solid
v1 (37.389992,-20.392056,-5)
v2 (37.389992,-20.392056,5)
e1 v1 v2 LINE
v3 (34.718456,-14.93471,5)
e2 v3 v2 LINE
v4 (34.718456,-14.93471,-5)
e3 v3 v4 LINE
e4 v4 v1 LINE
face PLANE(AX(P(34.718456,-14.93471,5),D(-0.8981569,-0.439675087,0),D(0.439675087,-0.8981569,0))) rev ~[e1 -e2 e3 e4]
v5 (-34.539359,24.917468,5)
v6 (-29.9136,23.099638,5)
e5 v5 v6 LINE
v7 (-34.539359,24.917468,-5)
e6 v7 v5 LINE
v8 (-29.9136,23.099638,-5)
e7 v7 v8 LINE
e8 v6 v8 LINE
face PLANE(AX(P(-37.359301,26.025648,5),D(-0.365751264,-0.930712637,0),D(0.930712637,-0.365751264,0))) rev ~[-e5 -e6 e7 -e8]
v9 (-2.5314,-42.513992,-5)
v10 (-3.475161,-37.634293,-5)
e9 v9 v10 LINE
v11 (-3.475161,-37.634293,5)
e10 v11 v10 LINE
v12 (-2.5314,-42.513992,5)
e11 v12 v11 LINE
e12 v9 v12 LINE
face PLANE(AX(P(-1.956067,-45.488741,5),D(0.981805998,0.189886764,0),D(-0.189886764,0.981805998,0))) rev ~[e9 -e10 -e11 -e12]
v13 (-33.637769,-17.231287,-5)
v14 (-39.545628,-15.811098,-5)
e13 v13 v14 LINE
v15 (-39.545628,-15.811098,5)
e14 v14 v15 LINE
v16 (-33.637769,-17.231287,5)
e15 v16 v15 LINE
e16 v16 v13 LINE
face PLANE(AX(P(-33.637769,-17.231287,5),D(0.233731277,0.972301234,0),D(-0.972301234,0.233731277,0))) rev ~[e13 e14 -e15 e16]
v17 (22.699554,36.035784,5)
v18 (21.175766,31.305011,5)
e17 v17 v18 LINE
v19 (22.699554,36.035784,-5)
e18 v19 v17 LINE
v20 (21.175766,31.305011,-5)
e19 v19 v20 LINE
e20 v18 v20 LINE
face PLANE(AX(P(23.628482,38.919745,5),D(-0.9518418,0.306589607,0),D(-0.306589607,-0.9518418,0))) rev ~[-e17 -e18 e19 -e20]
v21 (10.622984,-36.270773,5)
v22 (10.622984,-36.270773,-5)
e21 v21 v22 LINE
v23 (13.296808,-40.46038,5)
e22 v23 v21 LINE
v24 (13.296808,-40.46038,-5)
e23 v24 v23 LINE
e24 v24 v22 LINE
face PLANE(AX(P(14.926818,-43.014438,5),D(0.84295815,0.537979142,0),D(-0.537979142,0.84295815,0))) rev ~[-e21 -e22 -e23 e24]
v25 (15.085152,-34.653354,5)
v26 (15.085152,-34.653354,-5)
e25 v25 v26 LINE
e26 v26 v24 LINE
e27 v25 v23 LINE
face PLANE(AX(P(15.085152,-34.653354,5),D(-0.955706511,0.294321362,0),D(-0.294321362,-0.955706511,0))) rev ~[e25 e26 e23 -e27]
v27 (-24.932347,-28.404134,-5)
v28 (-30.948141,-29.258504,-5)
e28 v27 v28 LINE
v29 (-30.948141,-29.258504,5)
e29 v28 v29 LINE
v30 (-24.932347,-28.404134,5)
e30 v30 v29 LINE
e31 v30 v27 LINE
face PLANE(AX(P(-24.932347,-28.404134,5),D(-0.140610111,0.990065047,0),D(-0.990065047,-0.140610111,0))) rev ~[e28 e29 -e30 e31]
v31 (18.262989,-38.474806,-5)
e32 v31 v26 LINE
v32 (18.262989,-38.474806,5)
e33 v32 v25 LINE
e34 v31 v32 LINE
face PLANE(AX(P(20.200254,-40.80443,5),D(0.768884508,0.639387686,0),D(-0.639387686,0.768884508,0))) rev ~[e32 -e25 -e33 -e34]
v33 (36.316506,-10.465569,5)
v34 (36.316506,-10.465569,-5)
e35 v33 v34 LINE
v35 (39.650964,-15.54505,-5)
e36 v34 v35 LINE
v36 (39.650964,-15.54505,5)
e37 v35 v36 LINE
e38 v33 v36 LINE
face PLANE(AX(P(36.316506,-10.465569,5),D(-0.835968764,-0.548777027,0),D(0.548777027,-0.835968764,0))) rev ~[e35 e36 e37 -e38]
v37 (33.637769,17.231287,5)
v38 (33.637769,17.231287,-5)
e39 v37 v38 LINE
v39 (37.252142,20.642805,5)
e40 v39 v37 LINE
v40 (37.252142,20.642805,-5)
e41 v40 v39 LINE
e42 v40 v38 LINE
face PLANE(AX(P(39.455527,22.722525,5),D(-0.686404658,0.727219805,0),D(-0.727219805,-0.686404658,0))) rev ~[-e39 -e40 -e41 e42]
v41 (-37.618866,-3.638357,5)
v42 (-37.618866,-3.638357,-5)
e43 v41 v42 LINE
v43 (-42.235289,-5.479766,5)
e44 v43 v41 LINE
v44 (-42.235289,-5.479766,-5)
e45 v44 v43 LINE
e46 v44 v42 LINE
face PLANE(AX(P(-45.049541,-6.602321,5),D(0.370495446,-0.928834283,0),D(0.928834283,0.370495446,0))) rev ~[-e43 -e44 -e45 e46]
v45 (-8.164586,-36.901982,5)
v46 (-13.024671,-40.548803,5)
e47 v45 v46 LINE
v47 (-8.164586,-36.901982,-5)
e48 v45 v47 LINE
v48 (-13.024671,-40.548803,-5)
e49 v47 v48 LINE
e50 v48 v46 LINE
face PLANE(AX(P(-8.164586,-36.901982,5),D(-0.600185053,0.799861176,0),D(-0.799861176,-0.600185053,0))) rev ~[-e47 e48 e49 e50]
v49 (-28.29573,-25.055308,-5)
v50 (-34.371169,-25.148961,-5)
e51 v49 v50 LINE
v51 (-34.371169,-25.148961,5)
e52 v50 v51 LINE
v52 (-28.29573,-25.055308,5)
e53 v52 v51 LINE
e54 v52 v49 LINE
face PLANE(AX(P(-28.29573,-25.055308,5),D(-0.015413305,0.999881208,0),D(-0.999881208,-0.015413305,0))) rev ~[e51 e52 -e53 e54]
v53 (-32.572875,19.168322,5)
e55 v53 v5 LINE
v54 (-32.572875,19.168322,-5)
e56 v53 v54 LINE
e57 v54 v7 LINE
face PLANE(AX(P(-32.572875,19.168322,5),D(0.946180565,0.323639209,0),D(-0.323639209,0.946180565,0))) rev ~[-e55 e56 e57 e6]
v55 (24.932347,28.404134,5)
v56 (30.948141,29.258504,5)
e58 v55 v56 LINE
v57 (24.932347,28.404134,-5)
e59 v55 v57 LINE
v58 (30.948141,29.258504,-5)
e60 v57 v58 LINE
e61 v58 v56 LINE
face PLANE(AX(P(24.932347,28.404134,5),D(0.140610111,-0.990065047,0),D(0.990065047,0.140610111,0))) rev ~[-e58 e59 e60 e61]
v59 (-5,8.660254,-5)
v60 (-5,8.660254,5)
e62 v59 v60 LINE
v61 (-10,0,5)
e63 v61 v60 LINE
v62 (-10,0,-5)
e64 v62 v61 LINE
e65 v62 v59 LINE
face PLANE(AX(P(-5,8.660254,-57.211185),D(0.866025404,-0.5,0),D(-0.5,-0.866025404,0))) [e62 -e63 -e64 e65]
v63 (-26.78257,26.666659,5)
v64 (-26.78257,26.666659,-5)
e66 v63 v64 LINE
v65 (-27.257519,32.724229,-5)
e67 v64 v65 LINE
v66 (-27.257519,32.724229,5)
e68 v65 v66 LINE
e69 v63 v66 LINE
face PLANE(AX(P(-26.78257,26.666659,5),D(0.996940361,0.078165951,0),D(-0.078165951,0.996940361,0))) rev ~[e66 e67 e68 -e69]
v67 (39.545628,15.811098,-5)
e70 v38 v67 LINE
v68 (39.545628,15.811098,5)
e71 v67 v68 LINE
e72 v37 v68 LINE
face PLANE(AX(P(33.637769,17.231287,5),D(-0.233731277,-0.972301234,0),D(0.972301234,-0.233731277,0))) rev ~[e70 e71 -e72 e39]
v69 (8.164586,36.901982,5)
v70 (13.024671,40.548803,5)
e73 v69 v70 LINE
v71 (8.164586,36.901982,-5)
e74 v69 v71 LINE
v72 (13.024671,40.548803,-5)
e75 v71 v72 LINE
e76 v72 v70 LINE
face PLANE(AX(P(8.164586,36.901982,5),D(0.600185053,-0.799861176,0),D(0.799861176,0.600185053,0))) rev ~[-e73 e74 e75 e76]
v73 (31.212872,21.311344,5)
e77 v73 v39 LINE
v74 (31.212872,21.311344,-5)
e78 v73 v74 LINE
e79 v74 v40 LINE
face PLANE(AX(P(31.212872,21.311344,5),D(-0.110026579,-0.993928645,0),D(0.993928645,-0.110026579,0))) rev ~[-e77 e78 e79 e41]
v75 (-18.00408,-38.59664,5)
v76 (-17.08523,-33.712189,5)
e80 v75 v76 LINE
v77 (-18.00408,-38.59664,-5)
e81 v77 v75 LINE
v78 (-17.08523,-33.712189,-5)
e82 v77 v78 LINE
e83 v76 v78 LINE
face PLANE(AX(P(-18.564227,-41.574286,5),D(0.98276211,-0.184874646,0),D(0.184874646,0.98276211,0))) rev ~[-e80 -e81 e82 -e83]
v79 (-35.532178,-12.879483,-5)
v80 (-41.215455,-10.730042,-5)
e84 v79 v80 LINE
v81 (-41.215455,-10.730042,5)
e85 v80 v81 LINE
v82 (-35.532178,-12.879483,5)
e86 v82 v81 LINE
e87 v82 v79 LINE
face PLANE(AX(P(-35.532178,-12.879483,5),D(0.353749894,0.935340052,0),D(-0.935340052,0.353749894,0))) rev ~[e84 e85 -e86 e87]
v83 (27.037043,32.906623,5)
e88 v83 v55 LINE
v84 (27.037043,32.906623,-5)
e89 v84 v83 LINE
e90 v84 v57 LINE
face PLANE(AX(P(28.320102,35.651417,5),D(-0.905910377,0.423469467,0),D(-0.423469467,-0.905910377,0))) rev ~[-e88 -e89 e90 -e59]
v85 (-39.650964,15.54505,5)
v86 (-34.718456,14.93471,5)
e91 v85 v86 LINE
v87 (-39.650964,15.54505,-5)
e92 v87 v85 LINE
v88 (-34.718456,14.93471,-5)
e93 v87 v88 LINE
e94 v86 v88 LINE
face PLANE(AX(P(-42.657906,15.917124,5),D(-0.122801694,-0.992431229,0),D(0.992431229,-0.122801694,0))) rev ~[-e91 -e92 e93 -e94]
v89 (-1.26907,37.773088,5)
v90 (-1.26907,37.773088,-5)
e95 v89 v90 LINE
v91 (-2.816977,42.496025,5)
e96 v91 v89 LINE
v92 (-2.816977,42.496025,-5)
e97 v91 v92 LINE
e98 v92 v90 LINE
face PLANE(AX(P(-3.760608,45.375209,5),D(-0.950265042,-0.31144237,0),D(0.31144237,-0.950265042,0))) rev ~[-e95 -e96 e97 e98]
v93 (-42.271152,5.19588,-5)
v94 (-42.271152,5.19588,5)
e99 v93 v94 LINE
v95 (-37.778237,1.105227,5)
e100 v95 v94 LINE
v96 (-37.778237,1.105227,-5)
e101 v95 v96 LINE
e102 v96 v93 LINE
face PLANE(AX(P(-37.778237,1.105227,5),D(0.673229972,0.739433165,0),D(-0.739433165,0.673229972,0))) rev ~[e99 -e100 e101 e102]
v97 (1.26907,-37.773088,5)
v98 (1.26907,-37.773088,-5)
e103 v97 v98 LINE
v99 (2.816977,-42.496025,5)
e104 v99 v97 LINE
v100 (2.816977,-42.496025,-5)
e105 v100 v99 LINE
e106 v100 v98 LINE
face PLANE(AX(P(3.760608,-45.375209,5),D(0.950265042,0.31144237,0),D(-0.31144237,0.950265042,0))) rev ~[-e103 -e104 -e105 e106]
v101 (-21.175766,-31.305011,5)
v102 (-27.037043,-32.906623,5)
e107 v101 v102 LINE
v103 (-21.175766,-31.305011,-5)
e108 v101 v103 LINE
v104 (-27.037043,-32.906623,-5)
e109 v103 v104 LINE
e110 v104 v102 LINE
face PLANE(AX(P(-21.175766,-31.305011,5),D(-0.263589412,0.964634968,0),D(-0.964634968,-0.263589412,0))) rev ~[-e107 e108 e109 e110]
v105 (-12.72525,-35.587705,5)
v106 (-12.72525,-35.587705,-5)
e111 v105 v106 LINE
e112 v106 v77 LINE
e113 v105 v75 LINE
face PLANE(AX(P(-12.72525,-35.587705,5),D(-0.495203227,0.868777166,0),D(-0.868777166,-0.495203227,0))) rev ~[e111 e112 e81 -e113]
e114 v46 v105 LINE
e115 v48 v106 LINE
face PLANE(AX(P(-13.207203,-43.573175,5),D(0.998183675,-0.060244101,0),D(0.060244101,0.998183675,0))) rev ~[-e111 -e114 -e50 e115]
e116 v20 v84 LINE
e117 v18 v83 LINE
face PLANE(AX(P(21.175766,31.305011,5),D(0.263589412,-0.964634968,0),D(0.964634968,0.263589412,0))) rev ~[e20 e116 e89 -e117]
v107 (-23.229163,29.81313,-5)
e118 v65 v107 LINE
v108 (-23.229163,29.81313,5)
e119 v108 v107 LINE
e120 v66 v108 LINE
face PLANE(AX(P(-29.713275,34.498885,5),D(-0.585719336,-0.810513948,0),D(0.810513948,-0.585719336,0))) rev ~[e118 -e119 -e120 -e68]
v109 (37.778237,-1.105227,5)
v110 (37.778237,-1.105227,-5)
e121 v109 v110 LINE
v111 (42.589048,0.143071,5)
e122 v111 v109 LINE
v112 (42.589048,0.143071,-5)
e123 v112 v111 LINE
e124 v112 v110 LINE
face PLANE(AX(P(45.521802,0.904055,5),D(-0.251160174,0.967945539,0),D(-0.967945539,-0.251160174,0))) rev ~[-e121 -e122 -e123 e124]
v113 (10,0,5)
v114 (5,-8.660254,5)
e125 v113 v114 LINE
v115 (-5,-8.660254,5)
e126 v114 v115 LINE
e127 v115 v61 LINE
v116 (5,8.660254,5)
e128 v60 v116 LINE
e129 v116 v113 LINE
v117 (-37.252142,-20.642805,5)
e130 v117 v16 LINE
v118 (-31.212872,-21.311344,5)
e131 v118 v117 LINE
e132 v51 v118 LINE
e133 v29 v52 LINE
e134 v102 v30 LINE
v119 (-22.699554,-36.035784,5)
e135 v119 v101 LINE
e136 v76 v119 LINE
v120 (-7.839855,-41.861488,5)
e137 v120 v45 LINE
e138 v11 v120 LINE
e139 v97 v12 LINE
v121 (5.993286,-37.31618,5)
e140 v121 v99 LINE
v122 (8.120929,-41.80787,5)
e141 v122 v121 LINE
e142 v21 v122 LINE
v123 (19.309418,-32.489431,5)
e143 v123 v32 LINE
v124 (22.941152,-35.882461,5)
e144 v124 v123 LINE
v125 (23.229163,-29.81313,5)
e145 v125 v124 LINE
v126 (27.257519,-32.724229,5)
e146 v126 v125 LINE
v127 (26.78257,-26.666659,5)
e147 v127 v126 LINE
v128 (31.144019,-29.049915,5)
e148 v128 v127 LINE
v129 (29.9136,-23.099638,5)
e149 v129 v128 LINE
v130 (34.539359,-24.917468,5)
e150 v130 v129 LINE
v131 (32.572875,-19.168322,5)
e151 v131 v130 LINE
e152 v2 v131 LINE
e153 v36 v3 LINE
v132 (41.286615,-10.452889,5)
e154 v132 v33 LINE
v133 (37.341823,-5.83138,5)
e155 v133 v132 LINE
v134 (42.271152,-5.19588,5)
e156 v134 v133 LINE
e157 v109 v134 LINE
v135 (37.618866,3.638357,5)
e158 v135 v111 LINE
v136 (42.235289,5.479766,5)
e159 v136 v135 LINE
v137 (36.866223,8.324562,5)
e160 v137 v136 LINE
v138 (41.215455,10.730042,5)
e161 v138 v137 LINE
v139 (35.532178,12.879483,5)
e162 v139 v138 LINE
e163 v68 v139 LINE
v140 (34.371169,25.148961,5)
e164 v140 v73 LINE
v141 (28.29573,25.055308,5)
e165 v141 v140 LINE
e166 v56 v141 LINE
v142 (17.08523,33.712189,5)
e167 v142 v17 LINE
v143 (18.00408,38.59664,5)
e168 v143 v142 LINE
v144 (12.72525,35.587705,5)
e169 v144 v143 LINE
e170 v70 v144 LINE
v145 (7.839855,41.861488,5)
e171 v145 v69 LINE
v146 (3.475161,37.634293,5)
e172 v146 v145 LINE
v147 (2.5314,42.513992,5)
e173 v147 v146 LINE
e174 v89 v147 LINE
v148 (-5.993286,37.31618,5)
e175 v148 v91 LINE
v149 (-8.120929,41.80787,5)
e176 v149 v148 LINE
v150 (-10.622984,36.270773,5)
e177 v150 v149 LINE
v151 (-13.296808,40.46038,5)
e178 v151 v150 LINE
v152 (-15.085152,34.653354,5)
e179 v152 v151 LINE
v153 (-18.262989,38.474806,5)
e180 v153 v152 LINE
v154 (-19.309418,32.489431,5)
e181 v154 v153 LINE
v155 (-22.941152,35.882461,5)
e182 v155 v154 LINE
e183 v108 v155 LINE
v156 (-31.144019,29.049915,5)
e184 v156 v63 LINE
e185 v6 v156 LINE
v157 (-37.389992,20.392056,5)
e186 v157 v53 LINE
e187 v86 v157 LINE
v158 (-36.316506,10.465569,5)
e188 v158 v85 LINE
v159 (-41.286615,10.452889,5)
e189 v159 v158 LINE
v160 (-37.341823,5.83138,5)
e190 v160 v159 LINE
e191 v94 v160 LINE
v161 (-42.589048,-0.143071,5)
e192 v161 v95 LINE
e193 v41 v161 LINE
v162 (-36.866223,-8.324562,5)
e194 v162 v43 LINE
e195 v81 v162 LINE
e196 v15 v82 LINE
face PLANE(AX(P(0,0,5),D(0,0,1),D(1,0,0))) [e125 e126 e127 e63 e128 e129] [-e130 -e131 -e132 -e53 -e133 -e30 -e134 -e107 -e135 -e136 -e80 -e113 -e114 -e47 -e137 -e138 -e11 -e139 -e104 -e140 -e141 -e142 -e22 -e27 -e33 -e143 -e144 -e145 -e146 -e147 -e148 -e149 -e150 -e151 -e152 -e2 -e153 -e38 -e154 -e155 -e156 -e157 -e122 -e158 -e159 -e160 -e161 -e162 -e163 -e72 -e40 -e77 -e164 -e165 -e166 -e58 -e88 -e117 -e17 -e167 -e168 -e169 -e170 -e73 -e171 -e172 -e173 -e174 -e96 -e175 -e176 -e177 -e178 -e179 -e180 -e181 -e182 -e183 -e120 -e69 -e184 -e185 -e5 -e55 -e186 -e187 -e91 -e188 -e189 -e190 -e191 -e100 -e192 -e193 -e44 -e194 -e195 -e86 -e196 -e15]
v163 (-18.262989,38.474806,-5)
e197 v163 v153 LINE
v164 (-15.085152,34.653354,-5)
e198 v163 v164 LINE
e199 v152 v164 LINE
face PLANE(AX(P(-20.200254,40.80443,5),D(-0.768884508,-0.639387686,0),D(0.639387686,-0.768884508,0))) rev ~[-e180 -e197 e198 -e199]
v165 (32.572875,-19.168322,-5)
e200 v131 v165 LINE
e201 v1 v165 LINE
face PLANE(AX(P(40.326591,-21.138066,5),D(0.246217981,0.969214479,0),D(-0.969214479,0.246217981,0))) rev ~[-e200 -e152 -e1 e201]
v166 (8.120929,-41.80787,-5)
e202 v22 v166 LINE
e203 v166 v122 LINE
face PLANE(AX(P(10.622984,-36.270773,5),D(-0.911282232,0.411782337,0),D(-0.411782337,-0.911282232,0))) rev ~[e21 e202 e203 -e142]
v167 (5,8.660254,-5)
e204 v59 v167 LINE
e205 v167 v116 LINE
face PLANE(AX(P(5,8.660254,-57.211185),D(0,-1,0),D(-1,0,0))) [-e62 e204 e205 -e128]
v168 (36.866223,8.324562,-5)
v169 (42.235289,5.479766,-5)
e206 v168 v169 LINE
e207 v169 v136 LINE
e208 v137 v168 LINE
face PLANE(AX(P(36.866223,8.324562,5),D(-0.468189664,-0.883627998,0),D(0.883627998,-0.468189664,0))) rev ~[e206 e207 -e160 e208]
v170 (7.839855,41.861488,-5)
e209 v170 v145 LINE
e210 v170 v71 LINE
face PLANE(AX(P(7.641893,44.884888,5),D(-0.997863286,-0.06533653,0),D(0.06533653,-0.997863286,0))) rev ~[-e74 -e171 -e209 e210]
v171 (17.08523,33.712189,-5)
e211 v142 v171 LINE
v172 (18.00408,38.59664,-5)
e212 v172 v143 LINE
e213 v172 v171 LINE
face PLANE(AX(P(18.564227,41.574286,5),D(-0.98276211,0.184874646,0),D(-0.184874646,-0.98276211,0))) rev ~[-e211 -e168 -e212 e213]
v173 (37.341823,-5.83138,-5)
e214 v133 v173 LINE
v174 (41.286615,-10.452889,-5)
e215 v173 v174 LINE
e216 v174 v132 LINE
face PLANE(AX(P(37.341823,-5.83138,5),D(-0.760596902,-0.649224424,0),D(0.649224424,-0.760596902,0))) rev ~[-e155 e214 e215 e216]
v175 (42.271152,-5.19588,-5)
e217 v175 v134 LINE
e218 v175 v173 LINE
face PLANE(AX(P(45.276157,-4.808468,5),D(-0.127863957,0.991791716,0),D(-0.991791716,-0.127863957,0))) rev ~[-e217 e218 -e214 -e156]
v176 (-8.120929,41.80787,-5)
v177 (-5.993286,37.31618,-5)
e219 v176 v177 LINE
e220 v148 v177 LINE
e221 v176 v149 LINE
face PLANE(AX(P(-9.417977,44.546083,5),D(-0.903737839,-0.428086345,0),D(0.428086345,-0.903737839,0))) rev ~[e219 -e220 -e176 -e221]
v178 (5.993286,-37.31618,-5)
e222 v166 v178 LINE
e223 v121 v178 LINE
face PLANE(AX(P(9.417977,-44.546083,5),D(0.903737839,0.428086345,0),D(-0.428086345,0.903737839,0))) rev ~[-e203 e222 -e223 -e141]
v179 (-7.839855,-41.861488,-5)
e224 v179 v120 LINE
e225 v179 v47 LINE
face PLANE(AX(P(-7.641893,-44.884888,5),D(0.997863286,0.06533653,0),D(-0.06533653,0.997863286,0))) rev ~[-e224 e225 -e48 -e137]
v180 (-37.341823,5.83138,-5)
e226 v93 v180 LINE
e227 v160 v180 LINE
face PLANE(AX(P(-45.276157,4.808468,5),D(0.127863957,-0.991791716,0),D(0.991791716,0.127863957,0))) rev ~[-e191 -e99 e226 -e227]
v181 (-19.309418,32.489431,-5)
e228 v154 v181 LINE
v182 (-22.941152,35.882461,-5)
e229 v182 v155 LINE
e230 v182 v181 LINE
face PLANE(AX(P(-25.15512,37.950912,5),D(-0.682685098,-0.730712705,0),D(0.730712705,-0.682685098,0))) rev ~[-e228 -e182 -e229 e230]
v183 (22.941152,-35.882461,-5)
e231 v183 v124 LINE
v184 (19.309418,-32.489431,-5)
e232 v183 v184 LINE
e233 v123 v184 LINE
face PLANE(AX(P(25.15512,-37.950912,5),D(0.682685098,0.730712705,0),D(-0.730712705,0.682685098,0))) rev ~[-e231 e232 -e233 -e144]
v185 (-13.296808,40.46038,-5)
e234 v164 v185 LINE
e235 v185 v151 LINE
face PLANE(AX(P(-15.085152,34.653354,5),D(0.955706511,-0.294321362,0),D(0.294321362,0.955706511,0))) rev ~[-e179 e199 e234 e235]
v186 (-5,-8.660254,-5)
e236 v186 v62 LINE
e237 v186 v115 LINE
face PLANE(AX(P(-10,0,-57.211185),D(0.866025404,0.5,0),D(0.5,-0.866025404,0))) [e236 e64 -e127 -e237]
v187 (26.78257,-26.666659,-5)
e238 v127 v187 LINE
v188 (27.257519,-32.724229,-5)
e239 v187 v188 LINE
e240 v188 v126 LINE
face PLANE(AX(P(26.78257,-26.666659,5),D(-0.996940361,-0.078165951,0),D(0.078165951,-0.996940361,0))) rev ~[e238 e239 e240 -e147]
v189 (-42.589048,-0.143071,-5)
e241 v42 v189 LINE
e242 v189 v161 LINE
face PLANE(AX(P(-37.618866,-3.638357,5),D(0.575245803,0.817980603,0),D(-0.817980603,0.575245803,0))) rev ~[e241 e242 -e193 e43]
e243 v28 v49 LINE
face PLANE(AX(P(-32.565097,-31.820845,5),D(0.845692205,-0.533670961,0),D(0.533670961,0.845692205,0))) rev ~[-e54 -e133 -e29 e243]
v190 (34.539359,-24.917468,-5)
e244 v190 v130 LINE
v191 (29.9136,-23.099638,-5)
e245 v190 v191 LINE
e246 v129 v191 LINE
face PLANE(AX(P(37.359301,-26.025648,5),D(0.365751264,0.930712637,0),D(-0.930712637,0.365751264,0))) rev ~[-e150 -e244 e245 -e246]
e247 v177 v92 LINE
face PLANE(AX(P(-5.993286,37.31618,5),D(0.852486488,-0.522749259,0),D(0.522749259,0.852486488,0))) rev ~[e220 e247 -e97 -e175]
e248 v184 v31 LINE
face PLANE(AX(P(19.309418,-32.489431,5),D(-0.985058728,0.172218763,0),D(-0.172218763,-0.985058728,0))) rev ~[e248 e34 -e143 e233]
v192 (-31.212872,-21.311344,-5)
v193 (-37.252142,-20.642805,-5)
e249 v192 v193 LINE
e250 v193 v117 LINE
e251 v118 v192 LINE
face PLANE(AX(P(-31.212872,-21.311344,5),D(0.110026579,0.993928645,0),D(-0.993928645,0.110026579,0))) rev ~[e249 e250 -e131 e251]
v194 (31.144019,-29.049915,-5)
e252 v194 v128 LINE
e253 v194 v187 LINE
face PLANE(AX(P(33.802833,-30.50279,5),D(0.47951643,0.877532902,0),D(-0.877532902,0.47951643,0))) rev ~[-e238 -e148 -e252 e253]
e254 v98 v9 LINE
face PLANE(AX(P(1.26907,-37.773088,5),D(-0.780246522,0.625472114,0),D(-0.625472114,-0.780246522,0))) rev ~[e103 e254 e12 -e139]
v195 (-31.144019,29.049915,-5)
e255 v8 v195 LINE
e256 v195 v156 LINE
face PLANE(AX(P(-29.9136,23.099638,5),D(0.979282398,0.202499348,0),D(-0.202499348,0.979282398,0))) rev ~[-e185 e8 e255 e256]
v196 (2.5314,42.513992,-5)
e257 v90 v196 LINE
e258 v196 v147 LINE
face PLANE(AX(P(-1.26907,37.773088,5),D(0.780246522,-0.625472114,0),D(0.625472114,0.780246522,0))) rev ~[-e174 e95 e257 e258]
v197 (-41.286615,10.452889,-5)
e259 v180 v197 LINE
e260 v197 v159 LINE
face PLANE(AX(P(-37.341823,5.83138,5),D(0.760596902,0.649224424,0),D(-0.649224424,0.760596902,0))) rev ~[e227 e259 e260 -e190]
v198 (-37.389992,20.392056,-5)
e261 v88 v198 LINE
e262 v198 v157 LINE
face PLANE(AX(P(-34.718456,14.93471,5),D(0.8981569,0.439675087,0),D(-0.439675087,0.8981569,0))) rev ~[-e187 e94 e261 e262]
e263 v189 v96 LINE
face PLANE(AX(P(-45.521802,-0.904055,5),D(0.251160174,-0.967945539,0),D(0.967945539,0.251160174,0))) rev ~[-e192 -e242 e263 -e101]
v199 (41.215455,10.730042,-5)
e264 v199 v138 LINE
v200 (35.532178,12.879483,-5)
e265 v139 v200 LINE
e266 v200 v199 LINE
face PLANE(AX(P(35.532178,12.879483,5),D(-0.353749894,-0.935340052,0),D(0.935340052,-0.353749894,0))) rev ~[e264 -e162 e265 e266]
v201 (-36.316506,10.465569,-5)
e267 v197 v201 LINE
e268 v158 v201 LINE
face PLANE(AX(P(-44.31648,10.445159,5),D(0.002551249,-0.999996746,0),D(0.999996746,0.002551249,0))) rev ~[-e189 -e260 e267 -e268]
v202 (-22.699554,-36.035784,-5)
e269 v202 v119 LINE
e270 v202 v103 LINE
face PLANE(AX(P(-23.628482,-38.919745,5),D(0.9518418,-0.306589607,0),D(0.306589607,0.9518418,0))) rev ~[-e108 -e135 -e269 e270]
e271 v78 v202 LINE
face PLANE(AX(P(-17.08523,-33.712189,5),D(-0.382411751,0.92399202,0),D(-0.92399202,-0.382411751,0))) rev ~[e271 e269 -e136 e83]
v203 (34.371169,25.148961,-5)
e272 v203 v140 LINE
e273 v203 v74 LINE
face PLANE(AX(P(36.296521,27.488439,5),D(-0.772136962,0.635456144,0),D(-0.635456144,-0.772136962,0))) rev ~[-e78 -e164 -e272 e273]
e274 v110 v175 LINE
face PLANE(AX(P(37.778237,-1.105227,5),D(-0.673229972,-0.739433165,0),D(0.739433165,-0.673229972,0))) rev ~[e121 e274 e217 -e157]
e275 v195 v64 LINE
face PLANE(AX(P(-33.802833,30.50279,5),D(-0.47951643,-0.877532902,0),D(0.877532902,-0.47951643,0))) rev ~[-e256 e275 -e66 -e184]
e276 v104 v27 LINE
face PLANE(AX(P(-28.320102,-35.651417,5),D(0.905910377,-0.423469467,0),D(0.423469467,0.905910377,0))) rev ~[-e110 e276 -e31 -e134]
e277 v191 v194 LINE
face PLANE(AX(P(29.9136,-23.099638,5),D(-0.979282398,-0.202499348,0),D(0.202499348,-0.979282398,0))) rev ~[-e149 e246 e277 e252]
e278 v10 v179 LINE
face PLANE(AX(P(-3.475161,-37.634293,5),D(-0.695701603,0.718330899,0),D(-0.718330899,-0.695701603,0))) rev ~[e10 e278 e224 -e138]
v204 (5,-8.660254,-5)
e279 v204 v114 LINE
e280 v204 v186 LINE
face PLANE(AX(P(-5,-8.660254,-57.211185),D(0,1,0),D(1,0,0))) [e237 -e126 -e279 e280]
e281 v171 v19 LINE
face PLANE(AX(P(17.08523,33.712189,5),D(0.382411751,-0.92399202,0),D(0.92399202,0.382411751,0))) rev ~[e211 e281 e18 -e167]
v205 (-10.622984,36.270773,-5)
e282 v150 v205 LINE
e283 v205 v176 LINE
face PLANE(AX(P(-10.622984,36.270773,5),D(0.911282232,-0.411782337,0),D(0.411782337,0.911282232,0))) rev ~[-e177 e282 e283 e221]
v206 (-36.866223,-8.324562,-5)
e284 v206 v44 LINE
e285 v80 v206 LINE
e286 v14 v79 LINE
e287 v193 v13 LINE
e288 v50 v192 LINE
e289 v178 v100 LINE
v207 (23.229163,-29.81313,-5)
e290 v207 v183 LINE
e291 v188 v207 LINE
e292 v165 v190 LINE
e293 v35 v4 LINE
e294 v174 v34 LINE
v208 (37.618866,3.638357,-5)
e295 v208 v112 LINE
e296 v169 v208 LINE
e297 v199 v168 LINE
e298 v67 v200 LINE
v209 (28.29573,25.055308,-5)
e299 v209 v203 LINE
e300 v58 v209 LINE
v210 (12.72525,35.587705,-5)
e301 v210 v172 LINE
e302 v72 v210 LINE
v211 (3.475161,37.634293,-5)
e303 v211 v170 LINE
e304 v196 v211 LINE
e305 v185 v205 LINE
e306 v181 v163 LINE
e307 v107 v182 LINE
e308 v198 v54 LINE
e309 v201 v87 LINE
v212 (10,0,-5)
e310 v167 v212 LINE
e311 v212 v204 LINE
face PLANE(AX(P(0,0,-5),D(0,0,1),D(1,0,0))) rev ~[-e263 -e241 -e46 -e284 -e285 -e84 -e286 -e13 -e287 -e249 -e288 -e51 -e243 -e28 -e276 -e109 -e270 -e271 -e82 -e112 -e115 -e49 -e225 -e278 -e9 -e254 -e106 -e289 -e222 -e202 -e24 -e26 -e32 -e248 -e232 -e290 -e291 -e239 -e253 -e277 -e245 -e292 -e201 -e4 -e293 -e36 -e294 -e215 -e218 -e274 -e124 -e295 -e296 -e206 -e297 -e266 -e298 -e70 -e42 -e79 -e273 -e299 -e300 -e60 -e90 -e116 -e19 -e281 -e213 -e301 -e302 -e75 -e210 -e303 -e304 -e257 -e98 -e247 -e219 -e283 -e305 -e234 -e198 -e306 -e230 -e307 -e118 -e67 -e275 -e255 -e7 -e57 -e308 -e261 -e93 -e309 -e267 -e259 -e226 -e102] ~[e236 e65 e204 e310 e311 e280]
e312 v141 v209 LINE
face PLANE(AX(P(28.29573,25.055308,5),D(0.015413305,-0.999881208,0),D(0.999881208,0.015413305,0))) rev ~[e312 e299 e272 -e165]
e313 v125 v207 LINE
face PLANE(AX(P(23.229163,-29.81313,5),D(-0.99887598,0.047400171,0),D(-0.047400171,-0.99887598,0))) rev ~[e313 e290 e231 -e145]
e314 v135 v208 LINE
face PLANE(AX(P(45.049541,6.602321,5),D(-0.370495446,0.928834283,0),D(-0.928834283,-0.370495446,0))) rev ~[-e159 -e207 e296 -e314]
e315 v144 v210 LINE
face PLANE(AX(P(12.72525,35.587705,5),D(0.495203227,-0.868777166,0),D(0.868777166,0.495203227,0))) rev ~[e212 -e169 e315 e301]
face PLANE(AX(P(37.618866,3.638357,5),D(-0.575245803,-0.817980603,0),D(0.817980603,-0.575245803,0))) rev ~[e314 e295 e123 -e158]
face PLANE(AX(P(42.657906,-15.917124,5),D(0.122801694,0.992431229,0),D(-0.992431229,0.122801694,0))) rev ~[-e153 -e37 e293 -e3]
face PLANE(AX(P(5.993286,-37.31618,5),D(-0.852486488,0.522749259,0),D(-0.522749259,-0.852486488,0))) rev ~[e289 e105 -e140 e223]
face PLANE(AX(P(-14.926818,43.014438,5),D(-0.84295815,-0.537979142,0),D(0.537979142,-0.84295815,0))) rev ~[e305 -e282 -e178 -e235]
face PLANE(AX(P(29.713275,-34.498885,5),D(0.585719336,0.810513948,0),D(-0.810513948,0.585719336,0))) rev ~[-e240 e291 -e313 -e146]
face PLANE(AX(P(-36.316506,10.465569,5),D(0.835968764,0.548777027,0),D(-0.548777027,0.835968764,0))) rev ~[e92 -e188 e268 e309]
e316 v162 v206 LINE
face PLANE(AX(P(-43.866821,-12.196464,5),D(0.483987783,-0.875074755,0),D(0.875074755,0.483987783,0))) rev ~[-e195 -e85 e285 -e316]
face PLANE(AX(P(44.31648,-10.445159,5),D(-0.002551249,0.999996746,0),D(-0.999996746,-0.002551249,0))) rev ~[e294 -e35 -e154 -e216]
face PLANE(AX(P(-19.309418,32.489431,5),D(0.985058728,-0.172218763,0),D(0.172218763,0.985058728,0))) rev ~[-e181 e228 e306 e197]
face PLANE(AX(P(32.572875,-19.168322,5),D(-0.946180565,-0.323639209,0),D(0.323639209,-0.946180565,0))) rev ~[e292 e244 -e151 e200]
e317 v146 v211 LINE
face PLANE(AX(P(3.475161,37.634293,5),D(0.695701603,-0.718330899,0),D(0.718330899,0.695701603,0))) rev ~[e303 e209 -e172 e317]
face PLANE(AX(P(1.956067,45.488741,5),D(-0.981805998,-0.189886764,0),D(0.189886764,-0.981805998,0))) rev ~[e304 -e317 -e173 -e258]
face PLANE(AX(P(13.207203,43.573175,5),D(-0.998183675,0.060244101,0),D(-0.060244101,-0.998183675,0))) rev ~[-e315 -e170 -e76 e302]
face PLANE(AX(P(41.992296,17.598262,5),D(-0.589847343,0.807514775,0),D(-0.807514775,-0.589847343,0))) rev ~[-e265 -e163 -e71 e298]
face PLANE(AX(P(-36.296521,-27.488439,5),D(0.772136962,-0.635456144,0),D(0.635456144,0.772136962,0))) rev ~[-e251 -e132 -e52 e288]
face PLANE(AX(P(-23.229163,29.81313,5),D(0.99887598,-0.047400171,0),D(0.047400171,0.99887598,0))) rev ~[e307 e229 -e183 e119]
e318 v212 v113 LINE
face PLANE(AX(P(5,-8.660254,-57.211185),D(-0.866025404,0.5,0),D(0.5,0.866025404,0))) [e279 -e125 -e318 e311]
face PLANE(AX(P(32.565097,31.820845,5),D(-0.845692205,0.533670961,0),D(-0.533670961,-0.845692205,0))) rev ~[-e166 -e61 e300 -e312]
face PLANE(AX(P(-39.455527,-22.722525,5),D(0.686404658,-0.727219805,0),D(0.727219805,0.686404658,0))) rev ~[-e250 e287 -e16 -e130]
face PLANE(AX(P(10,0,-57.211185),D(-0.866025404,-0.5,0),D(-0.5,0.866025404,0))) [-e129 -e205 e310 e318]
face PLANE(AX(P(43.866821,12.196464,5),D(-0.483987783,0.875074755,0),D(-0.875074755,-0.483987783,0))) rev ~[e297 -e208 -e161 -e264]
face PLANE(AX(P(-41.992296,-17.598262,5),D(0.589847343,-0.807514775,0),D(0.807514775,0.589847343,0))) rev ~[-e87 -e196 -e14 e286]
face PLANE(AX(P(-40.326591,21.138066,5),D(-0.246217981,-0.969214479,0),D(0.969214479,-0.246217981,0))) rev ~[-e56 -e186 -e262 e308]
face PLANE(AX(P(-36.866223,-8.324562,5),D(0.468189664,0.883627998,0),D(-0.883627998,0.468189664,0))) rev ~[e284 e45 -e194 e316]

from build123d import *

# Parameters (mm, degrees)
SCHIZZO1_R                    = 42.70134189
ESTRUSIONE_ESTRUSIONE2_DEPTH  = 5
TAGLIO_ESTRUSIONE4_DEPTH      = 62.21118524
TAGLIO_ESTRUSIONE4_DEPTH_BACK = 62.21118524
TAGLIO_ESTRUSIONE5_DEPTH      = 62.21118524
RIPETIZIONECIRCOLARE1_COUNT   = 50


with BuildPart() as part:
    # Schizzo1 → Estrusione-Estrusione2 (new, symmetric)
    with BuildSketch(Plane.XY):
        Circle(SCHIZZO1_R)
    extrude(amount=ESTRUSIONE_ESTRUSIONE2_DEPTH, both=True)

    # Schizzo6 → Taglio-Estrusione4 (cut, two sides: drawn at the far end of the back side and taken through both)
    with BuildSketch(Plane.XY.offset(5).offset(-TAGLIO_ESTRUSIONE4_DEPTH_BACK)):
        Polygon((10, 0), (5, 8.660254038), (-5, 8.660254038), (-10, 0), (-5, -8.660254038), (5, -8.660254038), align=None)
    extrude(amount=TAGLIO_ESTRUSIONE4_DEPTH + TAGLIO_ESTRUSIONE4_DEPTH_BACK, mode=Mode.SUBTRACT)

    # Schizzo7 → Taglio-Estrusione5 (cut, through all)
    with BuildSketch(Plane.XY.offset(5)):
        Polygon((-9.417976615, 44.546082505), (-5.993285857, 37.316179794), (-1.087643203, 45.316179794), align=None)
    taglio_estrusione5 = extrude(amount=-TAGLIO_ESTRUSIONE5_DEPTH, mode=Mode.SUBTRACT)

    # RipetizioneCircolare1: Taglio-Estrusione5 ×50 about axis
    ripetizionecircolare1_axis = Axis((0, 0, 0), (0, 0, 1))
    for i in range(1, RIPETIZIONECIRCOLARE1_COUNT):
        add(taglio_estrusione5.rotate(ripetizionecircolare1_axis, i * 360 / RIPETIZIONECIRCOLARE1_COUNT), mode=Mode.SUBTRACT)


solid = part.part
